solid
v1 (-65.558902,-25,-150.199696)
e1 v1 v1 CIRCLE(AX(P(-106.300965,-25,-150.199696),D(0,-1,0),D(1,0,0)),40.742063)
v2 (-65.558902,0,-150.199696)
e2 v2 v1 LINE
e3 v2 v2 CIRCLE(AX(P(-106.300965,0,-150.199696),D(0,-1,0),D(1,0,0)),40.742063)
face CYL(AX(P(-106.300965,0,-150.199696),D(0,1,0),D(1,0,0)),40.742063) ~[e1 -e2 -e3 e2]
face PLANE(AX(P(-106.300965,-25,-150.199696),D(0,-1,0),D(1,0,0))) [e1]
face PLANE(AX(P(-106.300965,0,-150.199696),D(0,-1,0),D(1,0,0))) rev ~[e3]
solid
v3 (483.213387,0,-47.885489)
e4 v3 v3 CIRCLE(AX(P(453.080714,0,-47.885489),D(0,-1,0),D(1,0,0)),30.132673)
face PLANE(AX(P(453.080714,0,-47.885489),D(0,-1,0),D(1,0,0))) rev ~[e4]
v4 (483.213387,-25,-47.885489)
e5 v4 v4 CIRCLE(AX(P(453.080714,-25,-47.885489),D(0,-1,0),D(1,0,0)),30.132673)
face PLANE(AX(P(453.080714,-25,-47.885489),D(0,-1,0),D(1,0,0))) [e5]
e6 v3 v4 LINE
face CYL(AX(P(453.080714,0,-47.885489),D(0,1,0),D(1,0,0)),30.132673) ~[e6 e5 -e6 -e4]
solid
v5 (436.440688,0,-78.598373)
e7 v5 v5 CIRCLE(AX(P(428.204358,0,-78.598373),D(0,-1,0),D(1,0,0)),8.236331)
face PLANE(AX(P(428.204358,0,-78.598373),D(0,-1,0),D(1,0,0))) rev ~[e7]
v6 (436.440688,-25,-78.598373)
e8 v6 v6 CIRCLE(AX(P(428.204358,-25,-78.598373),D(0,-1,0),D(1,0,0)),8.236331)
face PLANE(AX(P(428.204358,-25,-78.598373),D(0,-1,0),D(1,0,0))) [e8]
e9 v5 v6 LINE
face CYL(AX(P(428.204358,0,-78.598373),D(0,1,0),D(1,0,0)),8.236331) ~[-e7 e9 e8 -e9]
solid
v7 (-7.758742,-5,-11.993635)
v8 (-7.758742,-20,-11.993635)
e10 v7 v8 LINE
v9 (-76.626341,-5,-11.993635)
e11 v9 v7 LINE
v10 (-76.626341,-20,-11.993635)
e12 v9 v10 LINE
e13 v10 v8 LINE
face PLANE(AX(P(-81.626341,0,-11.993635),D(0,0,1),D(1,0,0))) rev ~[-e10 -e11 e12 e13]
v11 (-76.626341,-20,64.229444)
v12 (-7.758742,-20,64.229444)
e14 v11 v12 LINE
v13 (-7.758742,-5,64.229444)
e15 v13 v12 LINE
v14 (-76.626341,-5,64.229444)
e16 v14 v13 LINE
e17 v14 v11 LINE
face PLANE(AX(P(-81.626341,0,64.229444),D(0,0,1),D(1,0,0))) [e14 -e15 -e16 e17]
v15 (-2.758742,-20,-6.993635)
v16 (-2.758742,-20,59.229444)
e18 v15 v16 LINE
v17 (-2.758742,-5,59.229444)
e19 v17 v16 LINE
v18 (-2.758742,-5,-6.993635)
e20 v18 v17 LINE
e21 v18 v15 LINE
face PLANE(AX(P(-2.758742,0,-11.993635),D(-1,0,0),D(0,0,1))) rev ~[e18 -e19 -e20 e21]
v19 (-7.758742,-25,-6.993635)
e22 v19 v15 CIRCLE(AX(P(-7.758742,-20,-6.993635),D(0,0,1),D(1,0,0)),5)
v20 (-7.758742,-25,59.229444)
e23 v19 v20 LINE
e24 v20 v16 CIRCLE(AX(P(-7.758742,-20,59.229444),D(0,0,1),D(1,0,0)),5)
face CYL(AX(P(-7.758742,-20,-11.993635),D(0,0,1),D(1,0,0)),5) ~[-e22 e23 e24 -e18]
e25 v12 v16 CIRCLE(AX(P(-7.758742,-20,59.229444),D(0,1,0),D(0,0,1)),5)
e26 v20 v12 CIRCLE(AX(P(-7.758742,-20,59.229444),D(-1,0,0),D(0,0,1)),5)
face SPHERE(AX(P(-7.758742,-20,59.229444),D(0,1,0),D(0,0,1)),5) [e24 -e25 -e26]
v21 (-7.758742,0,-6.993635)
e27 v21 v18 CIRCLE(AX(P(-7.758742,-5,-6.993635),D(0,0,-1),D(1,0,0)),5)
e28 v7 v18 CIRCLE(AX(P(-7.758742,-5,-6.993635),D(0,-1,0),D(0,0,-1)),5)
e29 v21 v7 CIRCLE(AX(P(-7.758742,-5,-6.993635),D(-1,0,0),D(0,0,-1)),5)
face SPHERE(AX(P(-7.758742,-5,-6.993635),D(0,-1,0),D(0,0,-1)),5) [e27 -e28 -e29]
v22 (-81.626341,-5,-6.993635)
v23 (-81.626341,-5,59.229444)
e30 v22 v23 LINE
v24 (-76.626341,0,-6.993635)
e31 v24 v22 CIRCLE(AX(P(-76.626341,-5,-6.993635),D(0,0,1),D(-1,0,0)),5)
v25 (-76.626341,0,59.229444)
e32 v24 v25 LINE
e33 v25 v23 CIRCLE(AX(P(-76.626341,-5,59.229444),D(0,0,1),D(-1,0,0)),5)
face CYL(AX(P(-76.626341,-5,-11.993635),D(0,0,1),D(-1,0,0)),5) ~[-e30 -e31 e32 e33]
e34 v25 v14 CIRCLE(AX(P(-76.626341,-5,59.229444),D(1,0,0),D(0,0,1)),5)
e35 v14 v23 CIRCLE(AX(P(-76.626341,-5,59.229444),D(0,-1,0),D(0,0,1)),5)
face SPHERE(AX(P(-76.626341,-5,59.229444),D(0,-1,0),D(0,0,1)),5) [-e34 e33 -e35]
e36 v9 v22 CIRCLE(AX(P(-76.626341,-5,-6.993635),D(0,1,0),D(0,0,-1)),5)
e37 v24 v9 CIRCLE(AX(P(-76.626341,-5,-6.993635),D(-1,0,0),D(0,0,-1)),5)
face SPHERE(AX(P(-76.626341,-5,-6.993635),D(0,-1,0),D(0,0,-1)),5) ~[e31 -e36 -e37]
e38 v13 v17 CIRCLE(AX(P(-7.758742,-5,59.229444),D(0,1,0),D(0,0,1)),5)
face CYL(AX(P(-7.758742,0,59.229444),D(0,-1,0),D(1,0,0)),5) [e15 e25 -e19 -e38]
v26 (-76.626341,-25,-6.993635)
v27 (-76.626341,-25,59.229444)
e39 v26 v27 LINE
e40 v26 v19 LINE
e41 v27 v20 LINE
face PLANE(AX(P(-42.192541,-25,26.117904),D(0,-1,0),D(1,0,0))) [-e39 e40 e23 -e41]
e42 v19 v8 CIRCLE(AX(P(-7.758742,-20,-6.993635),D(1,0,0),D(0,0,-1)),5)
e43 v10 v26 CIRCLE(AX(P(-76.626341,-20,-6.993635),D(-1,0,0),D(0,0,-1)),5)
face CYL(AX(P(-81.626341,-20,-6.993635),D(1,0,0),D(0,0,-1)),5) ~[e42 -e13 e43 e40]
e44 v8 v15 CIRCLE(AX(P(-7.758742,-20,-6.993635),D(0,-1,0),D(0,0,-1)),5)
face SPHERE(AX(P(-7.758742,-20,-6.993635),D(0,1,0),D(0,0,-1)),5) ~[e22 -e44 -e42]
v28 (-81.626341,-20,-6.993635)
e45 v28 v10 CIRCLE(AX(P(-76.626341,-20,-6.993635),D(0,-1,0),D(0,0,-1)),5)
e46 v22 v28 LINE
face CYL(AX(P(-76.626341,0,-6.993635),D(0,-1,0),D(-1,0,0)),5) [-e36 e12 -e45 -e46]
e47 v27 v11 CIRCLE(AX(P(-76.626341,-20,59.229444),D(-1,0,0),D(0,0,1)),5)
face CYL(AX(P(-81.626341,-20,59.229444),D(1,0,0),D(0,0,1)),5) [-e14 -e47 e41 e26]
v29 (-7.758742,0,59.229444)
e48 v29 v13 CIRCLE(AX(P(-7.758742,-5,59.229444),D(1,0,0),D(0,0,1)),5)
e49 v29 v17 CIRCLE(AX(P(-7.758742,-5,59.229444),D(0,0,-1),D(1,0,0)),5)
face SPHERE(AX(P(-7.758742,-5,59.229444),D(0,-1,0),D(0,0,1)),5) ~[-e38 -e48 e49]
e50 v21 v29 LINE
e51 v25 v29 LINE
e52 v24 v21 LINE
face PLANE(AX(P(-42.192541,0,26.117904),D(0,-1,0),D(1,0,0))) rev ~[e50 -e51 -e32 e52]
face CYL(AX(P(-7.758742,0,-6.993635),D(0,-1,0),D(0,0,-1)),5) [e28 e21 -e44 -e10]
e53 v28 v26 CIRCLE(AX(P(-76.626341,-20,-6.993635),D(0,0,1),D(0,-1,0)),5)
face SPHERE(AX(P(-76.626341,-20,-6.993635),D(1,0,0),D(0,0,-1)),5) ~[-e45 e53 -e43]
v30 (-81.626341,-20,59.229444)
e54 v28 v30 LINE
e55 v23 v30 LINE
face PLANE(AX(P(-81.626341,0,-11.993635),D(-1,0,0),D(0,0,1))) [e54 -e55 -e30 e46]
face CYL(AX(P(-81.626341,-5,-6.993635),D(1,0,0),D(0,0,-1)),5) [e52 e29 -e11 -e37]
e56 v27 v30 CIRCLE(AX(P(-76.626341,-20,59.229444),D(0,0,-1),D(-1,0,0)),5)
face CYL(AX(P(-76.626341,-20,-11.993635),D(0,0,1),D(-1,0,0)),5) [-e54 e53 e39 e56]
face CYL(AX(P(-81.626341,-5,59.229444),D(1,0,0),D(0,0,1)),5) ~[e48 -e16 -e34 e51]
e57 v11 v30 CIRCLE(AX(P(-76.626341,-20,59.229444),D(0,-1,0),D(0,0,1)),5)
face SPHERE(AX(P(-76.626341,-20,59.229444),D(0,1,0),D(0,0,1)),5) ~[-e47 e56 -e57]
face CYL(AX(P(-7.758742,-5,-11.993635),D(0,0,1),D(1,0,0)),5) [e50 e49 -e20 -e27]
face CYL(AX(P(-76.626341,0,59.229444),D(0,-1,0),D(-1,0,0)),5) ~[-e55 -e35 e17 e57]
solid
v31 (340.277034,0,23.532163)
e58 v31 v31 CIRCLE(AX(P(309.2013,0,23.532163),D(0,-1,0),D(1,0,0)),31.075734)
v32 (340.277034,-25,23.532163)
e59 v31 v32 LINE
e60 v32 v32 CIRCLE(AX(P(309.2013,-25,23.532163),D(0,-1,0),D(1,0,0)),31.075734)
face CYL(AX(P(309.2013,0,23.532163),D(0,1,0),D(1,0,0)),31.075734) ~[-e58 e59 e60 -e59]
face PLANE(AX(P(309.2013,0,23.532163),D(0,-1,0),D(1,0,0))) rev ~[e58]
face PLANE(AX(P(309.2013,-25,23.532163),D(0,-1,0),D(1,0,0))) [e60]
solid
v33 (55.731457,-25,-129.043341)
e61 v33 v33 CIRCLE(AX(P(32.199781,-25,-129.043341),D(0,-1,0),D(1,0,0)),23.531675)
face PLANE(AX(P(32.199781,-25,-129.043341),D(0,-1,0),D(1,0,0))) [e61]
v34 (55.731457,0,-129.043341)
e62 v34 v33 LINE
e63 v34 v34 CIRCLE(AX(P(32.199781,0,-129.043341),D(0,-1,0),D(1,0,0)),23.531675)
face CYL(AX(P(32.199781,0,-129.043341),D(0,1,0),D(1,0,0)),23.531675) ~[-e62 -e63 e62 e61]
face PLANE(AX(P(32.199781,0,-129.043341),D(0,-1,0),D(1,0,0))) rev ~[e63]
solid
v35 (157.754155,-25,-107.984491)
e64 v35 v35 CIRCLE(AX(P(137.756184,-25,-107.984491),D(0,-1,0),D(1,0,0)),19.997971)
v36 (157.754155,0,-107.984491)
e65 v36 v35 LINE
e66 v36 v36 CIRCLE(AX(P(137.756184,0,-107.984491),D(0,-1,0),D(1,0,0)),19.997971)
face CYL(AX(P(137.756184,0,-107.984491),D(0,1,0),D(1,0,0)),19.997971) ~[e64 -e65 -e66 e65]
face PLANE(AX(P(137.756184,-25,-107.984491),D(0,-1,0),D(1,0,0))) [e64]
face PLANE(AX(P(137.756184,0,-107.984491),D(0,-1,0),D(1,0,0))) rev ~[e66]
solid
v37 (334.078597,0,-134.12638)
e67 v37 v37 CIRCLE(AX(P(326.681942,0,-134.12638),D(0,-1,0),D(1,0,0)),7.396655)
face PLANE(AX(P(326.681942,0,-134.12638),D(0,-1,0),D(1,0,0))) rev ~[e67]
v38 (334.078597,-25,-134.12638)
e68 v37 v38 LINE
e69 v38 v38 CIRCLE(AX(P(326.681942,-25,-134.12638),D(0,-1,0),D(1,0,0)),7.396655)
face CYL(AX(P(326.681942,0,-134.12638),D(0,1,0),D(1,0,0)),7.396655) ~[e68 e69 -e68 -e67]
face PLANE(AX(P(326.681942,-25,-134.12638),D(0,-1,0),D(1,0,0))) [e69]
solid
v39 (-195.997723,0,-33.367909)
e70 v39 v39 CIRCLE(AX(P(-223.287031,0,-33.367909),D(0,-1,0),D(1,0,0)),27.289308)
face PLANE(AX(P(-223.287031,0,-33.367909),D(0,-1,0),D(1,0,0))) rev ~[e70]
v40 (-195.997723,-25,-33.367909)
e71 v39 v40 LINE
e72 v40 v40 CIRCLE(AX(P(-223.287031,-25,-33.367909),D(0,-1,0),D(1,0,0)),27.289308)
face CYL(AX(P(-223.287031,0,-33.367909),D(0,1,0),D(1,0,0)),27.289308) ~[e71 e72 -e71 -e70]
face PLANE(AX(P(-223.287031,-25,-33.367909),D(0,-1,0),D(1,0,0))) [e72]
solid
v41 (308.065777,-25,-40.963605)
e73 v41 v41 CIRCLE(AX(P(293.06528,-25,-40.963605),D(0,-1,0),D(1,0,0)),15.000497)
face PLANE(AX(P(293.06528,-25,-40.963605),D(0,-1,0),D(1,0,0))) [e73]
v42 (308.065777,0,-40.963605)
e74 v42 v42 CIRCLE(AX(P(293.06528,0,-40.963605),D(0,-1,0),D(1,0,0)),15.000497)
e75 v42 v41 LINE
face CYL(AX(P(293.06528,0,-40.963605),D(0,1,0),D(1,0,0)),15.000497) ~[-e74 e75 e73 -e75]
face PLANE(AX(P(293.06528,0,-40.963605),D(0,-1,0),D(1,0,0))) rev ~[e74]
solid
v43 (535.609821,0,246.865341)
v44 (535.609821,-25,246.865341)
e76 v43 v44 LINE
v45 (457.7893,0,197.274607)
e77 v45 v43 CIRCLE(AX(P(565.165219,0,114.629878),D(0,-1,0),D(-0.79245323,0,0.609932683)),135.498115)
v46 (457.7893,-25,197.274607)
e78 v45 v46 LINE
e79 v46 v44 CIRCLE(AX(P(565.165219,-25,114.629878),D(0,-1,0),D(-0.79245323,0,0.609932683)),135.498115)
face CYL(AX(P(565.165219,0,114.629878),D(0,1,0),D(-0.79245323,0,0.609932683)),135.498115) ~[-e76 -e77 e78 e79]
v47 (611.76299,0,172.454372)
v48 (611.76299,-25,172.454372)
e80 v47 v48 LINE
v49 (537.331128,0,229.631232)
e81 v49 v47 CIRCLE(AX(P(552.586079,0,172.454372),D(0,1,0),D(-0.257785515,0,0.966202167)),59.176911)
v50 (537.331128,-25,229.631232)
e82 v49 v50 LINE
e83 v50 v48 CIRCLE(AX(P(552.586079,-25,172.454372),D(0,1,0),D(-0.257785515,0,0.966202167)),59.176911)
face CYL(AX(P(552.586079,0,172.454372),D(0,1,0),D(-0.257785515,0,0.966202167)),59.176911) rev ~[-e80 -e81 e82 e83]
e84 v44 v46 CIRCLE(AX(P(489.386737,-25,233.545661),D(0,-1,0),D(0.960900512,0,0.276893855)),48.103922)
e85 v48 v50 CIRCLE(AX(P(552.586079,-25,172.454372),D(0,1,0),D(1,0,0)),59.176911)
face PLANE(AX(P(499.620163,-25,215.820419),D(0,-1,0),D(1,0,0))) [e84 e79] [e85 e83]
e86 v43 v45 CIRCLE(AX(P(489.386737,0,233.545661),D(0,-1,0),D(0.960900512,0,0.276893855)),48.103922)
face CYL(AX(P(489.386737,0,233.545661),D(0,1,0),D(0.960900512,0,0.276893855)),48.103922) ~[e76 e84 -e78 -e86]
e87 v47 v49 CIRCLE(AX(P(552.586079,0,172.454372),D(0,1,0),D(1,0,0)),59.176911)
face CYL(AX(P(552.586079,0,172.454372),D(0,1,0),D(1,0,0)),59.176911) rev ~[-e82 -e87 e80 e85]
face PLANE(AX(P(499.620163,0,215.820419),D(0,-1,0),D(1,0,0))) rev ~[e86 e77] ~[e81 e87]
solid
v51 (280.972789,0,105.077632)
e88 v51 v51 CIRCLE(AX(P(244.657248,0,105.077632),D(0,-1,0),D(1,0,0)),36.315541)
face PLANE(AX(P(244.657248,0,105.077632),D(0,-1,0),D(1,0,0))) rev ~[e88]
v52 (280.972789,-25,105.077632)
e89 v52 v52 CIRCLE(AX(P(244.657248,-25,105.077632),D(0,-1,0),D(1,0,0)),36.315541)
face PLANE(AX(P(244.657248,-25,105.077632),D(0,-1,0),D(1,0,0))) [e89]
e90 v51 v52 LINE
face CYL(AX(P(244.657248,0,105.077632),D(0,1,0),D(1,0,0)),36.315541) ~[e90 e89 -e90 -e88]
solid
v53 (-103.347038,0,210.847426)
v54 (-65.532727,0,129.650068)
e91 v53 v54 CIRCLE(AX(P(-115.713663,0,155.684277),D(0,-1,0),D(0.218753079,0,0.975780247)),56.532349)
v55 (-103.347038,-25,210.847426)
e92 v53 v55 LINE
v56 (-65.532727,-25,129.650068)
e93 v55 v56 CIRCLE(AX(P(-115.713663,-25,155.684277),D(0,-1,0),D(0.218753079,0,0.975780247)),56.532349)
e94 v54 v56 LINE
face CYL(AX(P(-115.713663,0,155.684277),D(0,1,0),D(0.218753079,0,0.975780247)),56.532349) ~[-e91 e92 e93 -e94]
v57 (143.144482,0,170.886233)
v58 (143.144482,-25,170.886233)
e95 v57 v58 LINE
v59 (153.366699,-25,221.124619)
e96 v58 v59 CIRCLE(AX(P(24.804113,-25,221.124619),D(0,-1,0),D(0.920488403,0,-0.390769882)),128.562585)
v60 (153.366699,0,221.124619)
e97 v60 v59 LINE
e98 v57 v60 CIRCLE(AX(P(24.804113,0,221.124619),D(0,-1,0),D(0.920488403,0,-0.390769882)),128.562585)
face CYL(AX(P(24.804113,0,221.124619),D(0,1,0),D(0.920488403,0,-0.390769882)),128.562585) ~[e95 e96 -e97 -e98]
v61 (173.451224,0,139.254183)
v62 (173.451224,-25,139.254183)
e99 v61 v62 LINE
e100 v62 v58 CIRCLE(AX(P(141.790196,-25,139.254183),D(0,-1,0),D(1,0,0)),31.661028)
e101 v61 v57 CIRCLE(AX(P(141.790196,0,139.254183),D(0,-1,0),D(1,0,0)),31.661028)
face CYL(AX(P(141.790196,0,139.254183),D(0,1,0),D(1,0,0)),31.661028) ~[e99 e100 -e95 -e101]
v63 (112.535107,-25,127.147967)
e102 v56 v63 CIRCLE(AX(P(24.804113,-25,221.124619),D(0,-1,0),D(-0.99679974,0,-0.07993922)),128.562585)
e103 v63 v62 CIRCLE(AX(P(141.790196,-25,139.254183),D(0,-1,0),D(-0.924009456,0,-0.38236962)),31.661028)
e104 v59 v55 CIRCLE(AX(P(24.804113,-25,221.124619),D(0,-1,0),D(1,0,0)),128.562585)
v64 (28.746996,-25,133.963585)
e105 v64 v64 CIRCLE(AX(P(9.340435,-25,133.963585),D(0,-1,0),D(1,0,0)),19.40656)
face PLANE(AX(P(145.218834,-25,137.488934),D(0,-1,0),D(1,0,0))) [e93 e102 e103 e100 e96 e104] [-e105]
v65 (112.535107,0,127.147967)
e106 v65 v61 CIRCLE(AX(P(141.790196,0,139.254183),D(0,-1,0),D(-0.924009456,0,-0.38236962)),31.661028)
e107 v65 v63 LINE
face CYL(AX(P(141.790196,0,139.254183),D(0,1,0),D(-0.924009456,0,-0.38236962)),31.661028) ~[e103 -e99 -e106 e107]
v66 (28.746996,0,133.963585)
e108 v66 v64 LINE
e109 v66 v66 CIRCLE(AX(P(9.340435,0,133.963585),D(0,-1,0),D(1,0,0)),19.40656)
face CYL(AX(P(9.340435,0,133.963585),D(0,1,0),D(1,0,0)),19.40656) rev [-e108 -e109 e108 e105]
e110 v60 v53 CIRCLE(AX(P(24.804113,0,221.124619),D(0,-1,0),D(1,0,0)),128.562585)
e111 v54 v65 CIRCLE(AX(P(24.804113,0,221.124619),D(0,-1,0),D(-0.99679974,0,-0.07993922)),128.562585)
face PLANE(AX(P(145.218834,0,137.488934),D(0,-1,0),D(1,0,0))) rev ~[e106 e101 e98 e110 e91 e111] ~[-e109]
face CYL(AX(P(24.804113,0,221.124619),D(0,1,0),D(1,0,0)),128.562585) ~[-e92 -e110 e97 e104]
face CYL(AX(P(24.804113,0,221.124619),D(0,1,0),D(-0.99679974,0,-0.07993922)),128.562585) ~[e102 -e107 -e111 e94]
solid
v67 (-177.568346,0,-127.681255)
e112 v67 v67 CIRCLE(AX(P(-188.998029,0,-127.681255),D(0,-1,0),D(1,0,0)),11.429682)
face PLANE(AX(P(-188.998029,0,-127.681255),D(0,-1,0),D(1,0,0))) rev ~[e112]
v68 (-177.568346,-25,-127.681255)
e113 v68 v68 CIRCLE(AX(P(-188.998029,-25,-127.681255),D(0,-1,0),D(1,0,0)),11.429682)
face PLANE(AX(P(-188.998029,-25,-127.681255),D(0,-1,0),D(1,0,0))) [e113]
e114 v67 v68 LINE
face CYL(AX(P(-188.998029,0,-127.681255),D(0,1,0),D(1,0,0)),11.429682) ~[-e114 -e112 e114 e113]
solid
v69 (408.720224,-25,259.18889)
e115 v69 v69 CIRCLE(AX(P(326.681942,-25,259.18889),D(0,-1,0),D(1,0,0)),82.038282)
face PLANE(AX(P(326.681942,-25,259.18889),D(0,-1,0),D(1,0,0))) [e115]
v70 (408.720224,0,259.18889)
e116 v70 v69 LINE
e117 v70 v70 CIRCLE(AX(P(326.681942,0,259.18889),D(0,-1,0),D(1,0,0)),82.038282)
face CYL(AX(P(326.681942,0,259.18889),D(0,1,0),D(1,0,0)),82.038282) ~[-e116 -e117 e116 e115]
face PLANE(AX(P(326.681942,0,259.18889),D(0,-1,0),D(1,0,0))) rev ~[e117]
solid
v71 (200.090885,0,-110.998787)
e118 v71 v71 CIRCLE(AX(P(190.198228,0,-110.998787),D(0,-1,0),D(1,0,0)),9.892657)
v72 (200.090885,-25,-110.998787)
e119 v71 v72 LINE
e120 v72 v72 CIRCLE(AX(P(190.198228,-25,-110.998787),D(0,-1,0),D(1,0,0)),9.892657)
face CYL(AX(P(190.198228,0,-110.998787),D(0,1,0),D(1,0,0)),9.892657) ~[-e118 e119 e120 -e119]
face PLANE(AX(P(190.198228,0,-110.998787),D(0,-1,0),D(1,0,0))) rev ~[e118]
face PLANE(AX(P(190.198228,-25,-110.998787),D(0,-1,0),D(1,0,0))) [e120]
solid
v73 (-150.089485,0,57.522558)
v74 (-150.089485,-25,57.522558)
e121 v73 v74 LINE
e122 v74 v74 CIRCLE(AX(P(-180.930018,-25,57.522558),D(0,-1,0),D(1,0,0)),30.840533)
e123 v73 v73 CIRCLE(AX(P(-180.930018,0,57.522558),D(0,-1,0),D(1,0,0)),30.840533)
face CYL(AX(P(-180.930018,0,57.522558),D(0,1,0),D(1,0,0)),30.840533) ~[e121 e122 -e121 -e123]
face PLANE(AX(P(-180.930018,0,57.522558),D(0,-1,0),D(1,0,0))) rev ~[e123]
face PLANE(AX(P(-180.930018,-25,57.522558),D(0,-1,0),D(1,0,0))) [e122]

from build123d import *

# Parameters (mm, degrees)
F0_W     = 78.8675989024
F0_H     = 76.2230791152
F1_DEPTH = 25
F2_R     = 5
F3_R     = 19.4065602364
F4_DEPTH = 25
F3_R_2   = 36.3155411113
F3_R_3   = 31.0757340736
F3_R_4   = 15.000496802
F3_R_5   = 9.892657246
F3_R_6   = 19.9979714781
F3_R_7   = 23.5316753387
F3_R_8   = 40.7420628041
F3_R_9   = 11.429682374
F3_R_10  = 27.2893080402
F3_R_11  = 30.8405329332
F3_R_12  = 82.0382817694
F3_R_13  = 30.1326732851
F3_R_14  = 8.2363305693
F3_R_15  = 7.3966551411


with BuildPart() as f1:
    # F0 (on Front) → F1 (new body)
    with BuildSketch(Plane.XZ):
        with Locations((-42.1925412957, 26.1179041117)):
            Rectangle(F0_W, F0_H)
    extrude(amount=F1_DEPTH)

    # F2
    f2_edges = [f1.edges().sort_by_distance(p)[0] for p in [
        (-2.758742, -12.5, -11.993635),
        (-2.758742, -12.5, 64.229444),
        (-81.626341, -12.5, 64.229444),
        (-42.192541, 0, 64.229444),
        (-42.192541, -25, 64.229444),
        (-42.192541, -25, -11.993635),
        (-81.626341, -12.5, -11.993635),
        (-42.192541, 0, -11.993635),
        (-81.626341, 0, 26.117904),
        (-81.626341, -25, 26.117904),
        (-2.758742, 0, 26.117904),
        (-2.758742, -25, 26.117904),
    ]]
    fillet(f2_edges, radius=F2_R)


with BuildPart() as f4:
    # F3 (on Front) → F4 (new body)
    with BuildSketch(Plane.XZ):
        with BuildLine():
            ThreePointArc((112.5351069499, 127.1479672968), (147.9616829469, 108.2004637366), (173.4512244141, 139.2541825771))
            ThreePointArc((173.4512244141, 139.2541825771), (164.651722768, 161.1578651168), (143.1444821906, 170.8862329532))
            ThreePointArc((143.1444821906, 170.8862329532), (130.1350706966, 147.4107957328), (112.5351069499, 127.1479672968))
        make_face()
        with BuildLine():
            ThreePointArc((112.5351069499, 127.1479672968), (130.1350706966, 147.4107957328), (143.1444821906, 170.8862329532))
            ThreePointArc((143.1444821906, 170.8862329532), (115.8504068042, 157.4076401597), (112.5351069499, 127.1479672968))
        make_face()
        with BuildLine():
            ThreePointArc((112.5351069499, 127.1479672968), (115.8504068042, 157.4076401597), (143.1444821906, 170.8862329532))
            ThreePointArc((143.1444821906, 170.8862329532), (150.7852272673, 195.4907102187), (153.3666987171, 221.1246192455))
            ThreePointArc((153.3666987171, 221.1246192455), (19.6614008756, 349.584304916), (-103.3470381147, 210.8474264352))
            ThreePointArc((-103.3470381147, 210.8474264352), (-71.5830572313, 191.0169256315), (-59.1813148657, 155.6842774153))
            ThreePointArc((-59.1813148657, 155.6842774153), (-60.7921165941, 142.2853921162), (-65.5327271779, 129.6500677928))
            ThreePointArc((-65.5327271779, 129.6500677928), (22.9978087819, 92.5747238799), (112.5351069499, 127.1479672968))
        make_face()
        with Locations((9.3404352665, 133.9635848999)):
            Circle(F3_R, mode=Mode.SUBTRACT)
        with BuildLine():
            ThreePointArc((-103.3470381147, 210.8474264352), (-91.7398844476, 166.8490732506), (-65.5327271779, 129.6500677928))
            ThreePointArc((-65.5327271779, 129.6500677928), (-60.7921165941, 142.2853921162), (-59.1813148657, 155.6842774153))
            ThreePointArc((-59.1813148657, 155.6842774153), (-71.5830572313, 191.0169256315), (-103.3470381147, 210.8474264352))
        make_face()
        with BuildLine():
            ThreePointArc((-103.3470381147, 210.8474264352), (-166.9611230944, 131.8178929905), (-65.5327271779, 129.6500677928))
            ThreePointArc((-65.5327271779, 129.6500677928), (-91.7398844476, 166.8490732506), (-103.3470381147, 210.8474264352))
        make_face()
    extrude(amount=F4_DEPTH)


with BuildPart() as f4b:
    # F3 (on Front) → F4, piece 2 (new body)
    with BuildSketch(Plane.XZ):
        with Locations((244.6572482586, 105.0776317716)):
            Circle(F3_R_2)
    extrude(amount=F4_DEPTH)


with BuildPart() as f4c:
    # F3 (on Front) → F4, piece 3 (new body)
    with BuildSketch(Plane.XZ):
        with Locations((309.2013001442, 23.5321633518)):
            Circle(F3_R_3)
    extrude(amount=F4_DEPTH)


with BuildPart() as f4d:
    # F3 (on Front) → F4, piece 4 (new body)
    with BuildSketch(Plane.XZ):
        with Locations((293.0652797222, -40.9636050463)):
            Circle(F3_R_4)
    extrude(amount=F4_DEPTH)


with BuildPart() as f4e:
    # F3 (on Front) → F4, piece 5 (new body)
    with BuildSketch(Plane.XZ):
        with Locations((190.1982277632, -110.9987869859)):
            Circle(F3_R_5)
    extrude(amount=F4_DEPTH)


with BuildPart() as f4f:
    # F3 (on Front) → F4, piece 6 (new body)
    with BuildSketch(Plane.XZ):
        with Locations((137.7561837435, -107.9844906926)):
            Circle(F3_R_6)
    extrude(amount=F4_DEPTH)


with BuildPart() as f4g:
    # F3 (on Front) → F4, piece 7 (new body)
    with BuildSketch(Plane.XZ):
        with Locations((32.199781388, -129.043340683)):
            Circle(F3_R_7)
    extrude(amount=F4_DEPTH)


with BuildPart() as f4h:
    # F3 (on Front) → F4, piece 8 (new body)
    with BuildSketch(Plane.XZ):
        with Locations((-106.3009649515, -150.1996964216)):
            Circle(F3_R_8)
    extrude(amount=F4_DEPTH)


with BuildPart() as f4i:
    # F3 (on Front) → F4, piece 9 (new body)
    with BuildSketch(Plane.XZ):
        with Locations((-188.998028636, -127.6812553406)):
            Circle(F3_R_9)
    extrude(amount=F4_DEPTH)


with BuildPart() as f4j:
    # F3 (on Front) → F4, piece 10 (new body)
    with BuildSketch(Plane.XZ):
        with Locations((-223.2870310545, -33.3679094911)):
            Circle(F3_R_10)
    extrude(amount=F4_DEPTH)


with BuildPart() as f4k:
    # F3 (on Front) → F4, piece 11 (new body)
    with BuildSketch(Plane.XZ):
        with Locations((-180.930018425, 57.5225576758)):
            Circle(F3_R_11)
    extrude(amount=F4_DEPTH)


with BuildPart() as f4l:
    # F3 (on Front) → F4, piece 12 (new body)
    with BuildSketch(Plane.XZ):
        with Locations((326.6819417477, 259.1888904572)):
            Circle(F3_R_12)
    extrude(amount=F4_DEPTH)


with BuildPart() as f4m:
    # F3 (on Front) → F4, piece 13 (new body)
    with BuildSketch(Plane.XZ):
        with BuildLine():
            ThreePointArc((537.3311280358, 229.6312321422), (537.4507602824, 231.5868218113), (537.4906597608, 233.5456609726))
            ThreePointArc((537.4906597608, 233.5456609726), (537.0181292103, 240.2715706325), (535.6098210065, 246.8653414716))
            ThreePointArc((535.6098210065, 246.8653414716), (492.3479367414, 228.8987832121), (457.7893002656, 197.274607479))
            ThreePointArc((457.7893002656, 197.274607479), (475.1420775277, 187.5992028037), (494.9247850219, 185.7615906189))
            ThreePointArc((494.9247850219, 185.7615906189), (510.0380936152, 213.5831432219), (537.3311280358, 229.6312321422))
        make_face()
        with BuildLine():
            ThreePointArc((535.6098210065, 246.8653414716), (537.0181292103, 240.2715706325), (537.4906597608, 233.5456609726))
            ThreePointArc((537.4906597608, 233.5456609726), (537.4507602824, 231.5868218113), (537.3311280358, 229.6312321422))
            ThreePointArc((537.3311280358, 229.6312321422), (588.635808095, 219.383295483), (611.7629900894, 172.4543720484))
            ThreePointArc((611.7629900894, 172.4543720484), (545.8894533095, 113.6575859341), (494.9247850219, 185.7615906189))
            ThreePointArc((494.9247850219, 185.7615906189), (475.1420775277, 187.5992028037), (457.7893002656, 197.274607479))
            ThreePointArc((457.7893002656, 197.274607479), (521.5160237261, -13.6451658436), (700.6633348482, 114.6298784136))
            ThreePointArc((700.6633348482, 114.6298784136), (649.8854604981, 220.3758950308), (535.6098210065, 246.8653414716))
        make_face()
        with BuildLine():
            ThreePointArc((457.7893002656, 197.274607479), (492.3479367414, 228.8987832121), (535.6098210065, 246.8653414716))
            ThreePointArc((535.6098210065, 246.8653414716), (463.5354780167, 274.1128859539), (457.7893002656, 197.274607479))
        make_face()
    extrude(amount=F4_DEPTH)


with BuildPart() as f4n:
    # F3 (on Front) → F4, piece 14 (new body)
    with BuildSketch(Plane.XZ):
        with Locations((453.0807137489, -47.8854887187)):
            Circle(F3_R_13)
    extrude(amount=F4_DEPTH)


with BuildPart() as f4o:
    # F3 (on Front) → F4, piece 15 (new body)
    with BuildSketch(Plane.XZ):
        with Locations((428.2043576241, -78.5983726382)):
            Circle(F3_R_14)
    extrude(amount=F4_DEPTH)


with BuildPart() as f4p:
    # F3 (on Front) → F4, piece 16 (new body)
    with BuildSketch(Plane.XZ):
        with Locations((326.6819417477, -134.1263800859)):
            Circle(F3_R_15)
    extrude(amount=F4_DEPTH)


solid = Compound([f1.part, f4.part, f4b.part, f4c.part, f4d.part, f4e.part, f4f.part, f4g.part, f4h.part, f4i.part, f4j.part, f4k.part, f4l.part, f4m.part, f4n.part, f4o.part, f4p.part])
